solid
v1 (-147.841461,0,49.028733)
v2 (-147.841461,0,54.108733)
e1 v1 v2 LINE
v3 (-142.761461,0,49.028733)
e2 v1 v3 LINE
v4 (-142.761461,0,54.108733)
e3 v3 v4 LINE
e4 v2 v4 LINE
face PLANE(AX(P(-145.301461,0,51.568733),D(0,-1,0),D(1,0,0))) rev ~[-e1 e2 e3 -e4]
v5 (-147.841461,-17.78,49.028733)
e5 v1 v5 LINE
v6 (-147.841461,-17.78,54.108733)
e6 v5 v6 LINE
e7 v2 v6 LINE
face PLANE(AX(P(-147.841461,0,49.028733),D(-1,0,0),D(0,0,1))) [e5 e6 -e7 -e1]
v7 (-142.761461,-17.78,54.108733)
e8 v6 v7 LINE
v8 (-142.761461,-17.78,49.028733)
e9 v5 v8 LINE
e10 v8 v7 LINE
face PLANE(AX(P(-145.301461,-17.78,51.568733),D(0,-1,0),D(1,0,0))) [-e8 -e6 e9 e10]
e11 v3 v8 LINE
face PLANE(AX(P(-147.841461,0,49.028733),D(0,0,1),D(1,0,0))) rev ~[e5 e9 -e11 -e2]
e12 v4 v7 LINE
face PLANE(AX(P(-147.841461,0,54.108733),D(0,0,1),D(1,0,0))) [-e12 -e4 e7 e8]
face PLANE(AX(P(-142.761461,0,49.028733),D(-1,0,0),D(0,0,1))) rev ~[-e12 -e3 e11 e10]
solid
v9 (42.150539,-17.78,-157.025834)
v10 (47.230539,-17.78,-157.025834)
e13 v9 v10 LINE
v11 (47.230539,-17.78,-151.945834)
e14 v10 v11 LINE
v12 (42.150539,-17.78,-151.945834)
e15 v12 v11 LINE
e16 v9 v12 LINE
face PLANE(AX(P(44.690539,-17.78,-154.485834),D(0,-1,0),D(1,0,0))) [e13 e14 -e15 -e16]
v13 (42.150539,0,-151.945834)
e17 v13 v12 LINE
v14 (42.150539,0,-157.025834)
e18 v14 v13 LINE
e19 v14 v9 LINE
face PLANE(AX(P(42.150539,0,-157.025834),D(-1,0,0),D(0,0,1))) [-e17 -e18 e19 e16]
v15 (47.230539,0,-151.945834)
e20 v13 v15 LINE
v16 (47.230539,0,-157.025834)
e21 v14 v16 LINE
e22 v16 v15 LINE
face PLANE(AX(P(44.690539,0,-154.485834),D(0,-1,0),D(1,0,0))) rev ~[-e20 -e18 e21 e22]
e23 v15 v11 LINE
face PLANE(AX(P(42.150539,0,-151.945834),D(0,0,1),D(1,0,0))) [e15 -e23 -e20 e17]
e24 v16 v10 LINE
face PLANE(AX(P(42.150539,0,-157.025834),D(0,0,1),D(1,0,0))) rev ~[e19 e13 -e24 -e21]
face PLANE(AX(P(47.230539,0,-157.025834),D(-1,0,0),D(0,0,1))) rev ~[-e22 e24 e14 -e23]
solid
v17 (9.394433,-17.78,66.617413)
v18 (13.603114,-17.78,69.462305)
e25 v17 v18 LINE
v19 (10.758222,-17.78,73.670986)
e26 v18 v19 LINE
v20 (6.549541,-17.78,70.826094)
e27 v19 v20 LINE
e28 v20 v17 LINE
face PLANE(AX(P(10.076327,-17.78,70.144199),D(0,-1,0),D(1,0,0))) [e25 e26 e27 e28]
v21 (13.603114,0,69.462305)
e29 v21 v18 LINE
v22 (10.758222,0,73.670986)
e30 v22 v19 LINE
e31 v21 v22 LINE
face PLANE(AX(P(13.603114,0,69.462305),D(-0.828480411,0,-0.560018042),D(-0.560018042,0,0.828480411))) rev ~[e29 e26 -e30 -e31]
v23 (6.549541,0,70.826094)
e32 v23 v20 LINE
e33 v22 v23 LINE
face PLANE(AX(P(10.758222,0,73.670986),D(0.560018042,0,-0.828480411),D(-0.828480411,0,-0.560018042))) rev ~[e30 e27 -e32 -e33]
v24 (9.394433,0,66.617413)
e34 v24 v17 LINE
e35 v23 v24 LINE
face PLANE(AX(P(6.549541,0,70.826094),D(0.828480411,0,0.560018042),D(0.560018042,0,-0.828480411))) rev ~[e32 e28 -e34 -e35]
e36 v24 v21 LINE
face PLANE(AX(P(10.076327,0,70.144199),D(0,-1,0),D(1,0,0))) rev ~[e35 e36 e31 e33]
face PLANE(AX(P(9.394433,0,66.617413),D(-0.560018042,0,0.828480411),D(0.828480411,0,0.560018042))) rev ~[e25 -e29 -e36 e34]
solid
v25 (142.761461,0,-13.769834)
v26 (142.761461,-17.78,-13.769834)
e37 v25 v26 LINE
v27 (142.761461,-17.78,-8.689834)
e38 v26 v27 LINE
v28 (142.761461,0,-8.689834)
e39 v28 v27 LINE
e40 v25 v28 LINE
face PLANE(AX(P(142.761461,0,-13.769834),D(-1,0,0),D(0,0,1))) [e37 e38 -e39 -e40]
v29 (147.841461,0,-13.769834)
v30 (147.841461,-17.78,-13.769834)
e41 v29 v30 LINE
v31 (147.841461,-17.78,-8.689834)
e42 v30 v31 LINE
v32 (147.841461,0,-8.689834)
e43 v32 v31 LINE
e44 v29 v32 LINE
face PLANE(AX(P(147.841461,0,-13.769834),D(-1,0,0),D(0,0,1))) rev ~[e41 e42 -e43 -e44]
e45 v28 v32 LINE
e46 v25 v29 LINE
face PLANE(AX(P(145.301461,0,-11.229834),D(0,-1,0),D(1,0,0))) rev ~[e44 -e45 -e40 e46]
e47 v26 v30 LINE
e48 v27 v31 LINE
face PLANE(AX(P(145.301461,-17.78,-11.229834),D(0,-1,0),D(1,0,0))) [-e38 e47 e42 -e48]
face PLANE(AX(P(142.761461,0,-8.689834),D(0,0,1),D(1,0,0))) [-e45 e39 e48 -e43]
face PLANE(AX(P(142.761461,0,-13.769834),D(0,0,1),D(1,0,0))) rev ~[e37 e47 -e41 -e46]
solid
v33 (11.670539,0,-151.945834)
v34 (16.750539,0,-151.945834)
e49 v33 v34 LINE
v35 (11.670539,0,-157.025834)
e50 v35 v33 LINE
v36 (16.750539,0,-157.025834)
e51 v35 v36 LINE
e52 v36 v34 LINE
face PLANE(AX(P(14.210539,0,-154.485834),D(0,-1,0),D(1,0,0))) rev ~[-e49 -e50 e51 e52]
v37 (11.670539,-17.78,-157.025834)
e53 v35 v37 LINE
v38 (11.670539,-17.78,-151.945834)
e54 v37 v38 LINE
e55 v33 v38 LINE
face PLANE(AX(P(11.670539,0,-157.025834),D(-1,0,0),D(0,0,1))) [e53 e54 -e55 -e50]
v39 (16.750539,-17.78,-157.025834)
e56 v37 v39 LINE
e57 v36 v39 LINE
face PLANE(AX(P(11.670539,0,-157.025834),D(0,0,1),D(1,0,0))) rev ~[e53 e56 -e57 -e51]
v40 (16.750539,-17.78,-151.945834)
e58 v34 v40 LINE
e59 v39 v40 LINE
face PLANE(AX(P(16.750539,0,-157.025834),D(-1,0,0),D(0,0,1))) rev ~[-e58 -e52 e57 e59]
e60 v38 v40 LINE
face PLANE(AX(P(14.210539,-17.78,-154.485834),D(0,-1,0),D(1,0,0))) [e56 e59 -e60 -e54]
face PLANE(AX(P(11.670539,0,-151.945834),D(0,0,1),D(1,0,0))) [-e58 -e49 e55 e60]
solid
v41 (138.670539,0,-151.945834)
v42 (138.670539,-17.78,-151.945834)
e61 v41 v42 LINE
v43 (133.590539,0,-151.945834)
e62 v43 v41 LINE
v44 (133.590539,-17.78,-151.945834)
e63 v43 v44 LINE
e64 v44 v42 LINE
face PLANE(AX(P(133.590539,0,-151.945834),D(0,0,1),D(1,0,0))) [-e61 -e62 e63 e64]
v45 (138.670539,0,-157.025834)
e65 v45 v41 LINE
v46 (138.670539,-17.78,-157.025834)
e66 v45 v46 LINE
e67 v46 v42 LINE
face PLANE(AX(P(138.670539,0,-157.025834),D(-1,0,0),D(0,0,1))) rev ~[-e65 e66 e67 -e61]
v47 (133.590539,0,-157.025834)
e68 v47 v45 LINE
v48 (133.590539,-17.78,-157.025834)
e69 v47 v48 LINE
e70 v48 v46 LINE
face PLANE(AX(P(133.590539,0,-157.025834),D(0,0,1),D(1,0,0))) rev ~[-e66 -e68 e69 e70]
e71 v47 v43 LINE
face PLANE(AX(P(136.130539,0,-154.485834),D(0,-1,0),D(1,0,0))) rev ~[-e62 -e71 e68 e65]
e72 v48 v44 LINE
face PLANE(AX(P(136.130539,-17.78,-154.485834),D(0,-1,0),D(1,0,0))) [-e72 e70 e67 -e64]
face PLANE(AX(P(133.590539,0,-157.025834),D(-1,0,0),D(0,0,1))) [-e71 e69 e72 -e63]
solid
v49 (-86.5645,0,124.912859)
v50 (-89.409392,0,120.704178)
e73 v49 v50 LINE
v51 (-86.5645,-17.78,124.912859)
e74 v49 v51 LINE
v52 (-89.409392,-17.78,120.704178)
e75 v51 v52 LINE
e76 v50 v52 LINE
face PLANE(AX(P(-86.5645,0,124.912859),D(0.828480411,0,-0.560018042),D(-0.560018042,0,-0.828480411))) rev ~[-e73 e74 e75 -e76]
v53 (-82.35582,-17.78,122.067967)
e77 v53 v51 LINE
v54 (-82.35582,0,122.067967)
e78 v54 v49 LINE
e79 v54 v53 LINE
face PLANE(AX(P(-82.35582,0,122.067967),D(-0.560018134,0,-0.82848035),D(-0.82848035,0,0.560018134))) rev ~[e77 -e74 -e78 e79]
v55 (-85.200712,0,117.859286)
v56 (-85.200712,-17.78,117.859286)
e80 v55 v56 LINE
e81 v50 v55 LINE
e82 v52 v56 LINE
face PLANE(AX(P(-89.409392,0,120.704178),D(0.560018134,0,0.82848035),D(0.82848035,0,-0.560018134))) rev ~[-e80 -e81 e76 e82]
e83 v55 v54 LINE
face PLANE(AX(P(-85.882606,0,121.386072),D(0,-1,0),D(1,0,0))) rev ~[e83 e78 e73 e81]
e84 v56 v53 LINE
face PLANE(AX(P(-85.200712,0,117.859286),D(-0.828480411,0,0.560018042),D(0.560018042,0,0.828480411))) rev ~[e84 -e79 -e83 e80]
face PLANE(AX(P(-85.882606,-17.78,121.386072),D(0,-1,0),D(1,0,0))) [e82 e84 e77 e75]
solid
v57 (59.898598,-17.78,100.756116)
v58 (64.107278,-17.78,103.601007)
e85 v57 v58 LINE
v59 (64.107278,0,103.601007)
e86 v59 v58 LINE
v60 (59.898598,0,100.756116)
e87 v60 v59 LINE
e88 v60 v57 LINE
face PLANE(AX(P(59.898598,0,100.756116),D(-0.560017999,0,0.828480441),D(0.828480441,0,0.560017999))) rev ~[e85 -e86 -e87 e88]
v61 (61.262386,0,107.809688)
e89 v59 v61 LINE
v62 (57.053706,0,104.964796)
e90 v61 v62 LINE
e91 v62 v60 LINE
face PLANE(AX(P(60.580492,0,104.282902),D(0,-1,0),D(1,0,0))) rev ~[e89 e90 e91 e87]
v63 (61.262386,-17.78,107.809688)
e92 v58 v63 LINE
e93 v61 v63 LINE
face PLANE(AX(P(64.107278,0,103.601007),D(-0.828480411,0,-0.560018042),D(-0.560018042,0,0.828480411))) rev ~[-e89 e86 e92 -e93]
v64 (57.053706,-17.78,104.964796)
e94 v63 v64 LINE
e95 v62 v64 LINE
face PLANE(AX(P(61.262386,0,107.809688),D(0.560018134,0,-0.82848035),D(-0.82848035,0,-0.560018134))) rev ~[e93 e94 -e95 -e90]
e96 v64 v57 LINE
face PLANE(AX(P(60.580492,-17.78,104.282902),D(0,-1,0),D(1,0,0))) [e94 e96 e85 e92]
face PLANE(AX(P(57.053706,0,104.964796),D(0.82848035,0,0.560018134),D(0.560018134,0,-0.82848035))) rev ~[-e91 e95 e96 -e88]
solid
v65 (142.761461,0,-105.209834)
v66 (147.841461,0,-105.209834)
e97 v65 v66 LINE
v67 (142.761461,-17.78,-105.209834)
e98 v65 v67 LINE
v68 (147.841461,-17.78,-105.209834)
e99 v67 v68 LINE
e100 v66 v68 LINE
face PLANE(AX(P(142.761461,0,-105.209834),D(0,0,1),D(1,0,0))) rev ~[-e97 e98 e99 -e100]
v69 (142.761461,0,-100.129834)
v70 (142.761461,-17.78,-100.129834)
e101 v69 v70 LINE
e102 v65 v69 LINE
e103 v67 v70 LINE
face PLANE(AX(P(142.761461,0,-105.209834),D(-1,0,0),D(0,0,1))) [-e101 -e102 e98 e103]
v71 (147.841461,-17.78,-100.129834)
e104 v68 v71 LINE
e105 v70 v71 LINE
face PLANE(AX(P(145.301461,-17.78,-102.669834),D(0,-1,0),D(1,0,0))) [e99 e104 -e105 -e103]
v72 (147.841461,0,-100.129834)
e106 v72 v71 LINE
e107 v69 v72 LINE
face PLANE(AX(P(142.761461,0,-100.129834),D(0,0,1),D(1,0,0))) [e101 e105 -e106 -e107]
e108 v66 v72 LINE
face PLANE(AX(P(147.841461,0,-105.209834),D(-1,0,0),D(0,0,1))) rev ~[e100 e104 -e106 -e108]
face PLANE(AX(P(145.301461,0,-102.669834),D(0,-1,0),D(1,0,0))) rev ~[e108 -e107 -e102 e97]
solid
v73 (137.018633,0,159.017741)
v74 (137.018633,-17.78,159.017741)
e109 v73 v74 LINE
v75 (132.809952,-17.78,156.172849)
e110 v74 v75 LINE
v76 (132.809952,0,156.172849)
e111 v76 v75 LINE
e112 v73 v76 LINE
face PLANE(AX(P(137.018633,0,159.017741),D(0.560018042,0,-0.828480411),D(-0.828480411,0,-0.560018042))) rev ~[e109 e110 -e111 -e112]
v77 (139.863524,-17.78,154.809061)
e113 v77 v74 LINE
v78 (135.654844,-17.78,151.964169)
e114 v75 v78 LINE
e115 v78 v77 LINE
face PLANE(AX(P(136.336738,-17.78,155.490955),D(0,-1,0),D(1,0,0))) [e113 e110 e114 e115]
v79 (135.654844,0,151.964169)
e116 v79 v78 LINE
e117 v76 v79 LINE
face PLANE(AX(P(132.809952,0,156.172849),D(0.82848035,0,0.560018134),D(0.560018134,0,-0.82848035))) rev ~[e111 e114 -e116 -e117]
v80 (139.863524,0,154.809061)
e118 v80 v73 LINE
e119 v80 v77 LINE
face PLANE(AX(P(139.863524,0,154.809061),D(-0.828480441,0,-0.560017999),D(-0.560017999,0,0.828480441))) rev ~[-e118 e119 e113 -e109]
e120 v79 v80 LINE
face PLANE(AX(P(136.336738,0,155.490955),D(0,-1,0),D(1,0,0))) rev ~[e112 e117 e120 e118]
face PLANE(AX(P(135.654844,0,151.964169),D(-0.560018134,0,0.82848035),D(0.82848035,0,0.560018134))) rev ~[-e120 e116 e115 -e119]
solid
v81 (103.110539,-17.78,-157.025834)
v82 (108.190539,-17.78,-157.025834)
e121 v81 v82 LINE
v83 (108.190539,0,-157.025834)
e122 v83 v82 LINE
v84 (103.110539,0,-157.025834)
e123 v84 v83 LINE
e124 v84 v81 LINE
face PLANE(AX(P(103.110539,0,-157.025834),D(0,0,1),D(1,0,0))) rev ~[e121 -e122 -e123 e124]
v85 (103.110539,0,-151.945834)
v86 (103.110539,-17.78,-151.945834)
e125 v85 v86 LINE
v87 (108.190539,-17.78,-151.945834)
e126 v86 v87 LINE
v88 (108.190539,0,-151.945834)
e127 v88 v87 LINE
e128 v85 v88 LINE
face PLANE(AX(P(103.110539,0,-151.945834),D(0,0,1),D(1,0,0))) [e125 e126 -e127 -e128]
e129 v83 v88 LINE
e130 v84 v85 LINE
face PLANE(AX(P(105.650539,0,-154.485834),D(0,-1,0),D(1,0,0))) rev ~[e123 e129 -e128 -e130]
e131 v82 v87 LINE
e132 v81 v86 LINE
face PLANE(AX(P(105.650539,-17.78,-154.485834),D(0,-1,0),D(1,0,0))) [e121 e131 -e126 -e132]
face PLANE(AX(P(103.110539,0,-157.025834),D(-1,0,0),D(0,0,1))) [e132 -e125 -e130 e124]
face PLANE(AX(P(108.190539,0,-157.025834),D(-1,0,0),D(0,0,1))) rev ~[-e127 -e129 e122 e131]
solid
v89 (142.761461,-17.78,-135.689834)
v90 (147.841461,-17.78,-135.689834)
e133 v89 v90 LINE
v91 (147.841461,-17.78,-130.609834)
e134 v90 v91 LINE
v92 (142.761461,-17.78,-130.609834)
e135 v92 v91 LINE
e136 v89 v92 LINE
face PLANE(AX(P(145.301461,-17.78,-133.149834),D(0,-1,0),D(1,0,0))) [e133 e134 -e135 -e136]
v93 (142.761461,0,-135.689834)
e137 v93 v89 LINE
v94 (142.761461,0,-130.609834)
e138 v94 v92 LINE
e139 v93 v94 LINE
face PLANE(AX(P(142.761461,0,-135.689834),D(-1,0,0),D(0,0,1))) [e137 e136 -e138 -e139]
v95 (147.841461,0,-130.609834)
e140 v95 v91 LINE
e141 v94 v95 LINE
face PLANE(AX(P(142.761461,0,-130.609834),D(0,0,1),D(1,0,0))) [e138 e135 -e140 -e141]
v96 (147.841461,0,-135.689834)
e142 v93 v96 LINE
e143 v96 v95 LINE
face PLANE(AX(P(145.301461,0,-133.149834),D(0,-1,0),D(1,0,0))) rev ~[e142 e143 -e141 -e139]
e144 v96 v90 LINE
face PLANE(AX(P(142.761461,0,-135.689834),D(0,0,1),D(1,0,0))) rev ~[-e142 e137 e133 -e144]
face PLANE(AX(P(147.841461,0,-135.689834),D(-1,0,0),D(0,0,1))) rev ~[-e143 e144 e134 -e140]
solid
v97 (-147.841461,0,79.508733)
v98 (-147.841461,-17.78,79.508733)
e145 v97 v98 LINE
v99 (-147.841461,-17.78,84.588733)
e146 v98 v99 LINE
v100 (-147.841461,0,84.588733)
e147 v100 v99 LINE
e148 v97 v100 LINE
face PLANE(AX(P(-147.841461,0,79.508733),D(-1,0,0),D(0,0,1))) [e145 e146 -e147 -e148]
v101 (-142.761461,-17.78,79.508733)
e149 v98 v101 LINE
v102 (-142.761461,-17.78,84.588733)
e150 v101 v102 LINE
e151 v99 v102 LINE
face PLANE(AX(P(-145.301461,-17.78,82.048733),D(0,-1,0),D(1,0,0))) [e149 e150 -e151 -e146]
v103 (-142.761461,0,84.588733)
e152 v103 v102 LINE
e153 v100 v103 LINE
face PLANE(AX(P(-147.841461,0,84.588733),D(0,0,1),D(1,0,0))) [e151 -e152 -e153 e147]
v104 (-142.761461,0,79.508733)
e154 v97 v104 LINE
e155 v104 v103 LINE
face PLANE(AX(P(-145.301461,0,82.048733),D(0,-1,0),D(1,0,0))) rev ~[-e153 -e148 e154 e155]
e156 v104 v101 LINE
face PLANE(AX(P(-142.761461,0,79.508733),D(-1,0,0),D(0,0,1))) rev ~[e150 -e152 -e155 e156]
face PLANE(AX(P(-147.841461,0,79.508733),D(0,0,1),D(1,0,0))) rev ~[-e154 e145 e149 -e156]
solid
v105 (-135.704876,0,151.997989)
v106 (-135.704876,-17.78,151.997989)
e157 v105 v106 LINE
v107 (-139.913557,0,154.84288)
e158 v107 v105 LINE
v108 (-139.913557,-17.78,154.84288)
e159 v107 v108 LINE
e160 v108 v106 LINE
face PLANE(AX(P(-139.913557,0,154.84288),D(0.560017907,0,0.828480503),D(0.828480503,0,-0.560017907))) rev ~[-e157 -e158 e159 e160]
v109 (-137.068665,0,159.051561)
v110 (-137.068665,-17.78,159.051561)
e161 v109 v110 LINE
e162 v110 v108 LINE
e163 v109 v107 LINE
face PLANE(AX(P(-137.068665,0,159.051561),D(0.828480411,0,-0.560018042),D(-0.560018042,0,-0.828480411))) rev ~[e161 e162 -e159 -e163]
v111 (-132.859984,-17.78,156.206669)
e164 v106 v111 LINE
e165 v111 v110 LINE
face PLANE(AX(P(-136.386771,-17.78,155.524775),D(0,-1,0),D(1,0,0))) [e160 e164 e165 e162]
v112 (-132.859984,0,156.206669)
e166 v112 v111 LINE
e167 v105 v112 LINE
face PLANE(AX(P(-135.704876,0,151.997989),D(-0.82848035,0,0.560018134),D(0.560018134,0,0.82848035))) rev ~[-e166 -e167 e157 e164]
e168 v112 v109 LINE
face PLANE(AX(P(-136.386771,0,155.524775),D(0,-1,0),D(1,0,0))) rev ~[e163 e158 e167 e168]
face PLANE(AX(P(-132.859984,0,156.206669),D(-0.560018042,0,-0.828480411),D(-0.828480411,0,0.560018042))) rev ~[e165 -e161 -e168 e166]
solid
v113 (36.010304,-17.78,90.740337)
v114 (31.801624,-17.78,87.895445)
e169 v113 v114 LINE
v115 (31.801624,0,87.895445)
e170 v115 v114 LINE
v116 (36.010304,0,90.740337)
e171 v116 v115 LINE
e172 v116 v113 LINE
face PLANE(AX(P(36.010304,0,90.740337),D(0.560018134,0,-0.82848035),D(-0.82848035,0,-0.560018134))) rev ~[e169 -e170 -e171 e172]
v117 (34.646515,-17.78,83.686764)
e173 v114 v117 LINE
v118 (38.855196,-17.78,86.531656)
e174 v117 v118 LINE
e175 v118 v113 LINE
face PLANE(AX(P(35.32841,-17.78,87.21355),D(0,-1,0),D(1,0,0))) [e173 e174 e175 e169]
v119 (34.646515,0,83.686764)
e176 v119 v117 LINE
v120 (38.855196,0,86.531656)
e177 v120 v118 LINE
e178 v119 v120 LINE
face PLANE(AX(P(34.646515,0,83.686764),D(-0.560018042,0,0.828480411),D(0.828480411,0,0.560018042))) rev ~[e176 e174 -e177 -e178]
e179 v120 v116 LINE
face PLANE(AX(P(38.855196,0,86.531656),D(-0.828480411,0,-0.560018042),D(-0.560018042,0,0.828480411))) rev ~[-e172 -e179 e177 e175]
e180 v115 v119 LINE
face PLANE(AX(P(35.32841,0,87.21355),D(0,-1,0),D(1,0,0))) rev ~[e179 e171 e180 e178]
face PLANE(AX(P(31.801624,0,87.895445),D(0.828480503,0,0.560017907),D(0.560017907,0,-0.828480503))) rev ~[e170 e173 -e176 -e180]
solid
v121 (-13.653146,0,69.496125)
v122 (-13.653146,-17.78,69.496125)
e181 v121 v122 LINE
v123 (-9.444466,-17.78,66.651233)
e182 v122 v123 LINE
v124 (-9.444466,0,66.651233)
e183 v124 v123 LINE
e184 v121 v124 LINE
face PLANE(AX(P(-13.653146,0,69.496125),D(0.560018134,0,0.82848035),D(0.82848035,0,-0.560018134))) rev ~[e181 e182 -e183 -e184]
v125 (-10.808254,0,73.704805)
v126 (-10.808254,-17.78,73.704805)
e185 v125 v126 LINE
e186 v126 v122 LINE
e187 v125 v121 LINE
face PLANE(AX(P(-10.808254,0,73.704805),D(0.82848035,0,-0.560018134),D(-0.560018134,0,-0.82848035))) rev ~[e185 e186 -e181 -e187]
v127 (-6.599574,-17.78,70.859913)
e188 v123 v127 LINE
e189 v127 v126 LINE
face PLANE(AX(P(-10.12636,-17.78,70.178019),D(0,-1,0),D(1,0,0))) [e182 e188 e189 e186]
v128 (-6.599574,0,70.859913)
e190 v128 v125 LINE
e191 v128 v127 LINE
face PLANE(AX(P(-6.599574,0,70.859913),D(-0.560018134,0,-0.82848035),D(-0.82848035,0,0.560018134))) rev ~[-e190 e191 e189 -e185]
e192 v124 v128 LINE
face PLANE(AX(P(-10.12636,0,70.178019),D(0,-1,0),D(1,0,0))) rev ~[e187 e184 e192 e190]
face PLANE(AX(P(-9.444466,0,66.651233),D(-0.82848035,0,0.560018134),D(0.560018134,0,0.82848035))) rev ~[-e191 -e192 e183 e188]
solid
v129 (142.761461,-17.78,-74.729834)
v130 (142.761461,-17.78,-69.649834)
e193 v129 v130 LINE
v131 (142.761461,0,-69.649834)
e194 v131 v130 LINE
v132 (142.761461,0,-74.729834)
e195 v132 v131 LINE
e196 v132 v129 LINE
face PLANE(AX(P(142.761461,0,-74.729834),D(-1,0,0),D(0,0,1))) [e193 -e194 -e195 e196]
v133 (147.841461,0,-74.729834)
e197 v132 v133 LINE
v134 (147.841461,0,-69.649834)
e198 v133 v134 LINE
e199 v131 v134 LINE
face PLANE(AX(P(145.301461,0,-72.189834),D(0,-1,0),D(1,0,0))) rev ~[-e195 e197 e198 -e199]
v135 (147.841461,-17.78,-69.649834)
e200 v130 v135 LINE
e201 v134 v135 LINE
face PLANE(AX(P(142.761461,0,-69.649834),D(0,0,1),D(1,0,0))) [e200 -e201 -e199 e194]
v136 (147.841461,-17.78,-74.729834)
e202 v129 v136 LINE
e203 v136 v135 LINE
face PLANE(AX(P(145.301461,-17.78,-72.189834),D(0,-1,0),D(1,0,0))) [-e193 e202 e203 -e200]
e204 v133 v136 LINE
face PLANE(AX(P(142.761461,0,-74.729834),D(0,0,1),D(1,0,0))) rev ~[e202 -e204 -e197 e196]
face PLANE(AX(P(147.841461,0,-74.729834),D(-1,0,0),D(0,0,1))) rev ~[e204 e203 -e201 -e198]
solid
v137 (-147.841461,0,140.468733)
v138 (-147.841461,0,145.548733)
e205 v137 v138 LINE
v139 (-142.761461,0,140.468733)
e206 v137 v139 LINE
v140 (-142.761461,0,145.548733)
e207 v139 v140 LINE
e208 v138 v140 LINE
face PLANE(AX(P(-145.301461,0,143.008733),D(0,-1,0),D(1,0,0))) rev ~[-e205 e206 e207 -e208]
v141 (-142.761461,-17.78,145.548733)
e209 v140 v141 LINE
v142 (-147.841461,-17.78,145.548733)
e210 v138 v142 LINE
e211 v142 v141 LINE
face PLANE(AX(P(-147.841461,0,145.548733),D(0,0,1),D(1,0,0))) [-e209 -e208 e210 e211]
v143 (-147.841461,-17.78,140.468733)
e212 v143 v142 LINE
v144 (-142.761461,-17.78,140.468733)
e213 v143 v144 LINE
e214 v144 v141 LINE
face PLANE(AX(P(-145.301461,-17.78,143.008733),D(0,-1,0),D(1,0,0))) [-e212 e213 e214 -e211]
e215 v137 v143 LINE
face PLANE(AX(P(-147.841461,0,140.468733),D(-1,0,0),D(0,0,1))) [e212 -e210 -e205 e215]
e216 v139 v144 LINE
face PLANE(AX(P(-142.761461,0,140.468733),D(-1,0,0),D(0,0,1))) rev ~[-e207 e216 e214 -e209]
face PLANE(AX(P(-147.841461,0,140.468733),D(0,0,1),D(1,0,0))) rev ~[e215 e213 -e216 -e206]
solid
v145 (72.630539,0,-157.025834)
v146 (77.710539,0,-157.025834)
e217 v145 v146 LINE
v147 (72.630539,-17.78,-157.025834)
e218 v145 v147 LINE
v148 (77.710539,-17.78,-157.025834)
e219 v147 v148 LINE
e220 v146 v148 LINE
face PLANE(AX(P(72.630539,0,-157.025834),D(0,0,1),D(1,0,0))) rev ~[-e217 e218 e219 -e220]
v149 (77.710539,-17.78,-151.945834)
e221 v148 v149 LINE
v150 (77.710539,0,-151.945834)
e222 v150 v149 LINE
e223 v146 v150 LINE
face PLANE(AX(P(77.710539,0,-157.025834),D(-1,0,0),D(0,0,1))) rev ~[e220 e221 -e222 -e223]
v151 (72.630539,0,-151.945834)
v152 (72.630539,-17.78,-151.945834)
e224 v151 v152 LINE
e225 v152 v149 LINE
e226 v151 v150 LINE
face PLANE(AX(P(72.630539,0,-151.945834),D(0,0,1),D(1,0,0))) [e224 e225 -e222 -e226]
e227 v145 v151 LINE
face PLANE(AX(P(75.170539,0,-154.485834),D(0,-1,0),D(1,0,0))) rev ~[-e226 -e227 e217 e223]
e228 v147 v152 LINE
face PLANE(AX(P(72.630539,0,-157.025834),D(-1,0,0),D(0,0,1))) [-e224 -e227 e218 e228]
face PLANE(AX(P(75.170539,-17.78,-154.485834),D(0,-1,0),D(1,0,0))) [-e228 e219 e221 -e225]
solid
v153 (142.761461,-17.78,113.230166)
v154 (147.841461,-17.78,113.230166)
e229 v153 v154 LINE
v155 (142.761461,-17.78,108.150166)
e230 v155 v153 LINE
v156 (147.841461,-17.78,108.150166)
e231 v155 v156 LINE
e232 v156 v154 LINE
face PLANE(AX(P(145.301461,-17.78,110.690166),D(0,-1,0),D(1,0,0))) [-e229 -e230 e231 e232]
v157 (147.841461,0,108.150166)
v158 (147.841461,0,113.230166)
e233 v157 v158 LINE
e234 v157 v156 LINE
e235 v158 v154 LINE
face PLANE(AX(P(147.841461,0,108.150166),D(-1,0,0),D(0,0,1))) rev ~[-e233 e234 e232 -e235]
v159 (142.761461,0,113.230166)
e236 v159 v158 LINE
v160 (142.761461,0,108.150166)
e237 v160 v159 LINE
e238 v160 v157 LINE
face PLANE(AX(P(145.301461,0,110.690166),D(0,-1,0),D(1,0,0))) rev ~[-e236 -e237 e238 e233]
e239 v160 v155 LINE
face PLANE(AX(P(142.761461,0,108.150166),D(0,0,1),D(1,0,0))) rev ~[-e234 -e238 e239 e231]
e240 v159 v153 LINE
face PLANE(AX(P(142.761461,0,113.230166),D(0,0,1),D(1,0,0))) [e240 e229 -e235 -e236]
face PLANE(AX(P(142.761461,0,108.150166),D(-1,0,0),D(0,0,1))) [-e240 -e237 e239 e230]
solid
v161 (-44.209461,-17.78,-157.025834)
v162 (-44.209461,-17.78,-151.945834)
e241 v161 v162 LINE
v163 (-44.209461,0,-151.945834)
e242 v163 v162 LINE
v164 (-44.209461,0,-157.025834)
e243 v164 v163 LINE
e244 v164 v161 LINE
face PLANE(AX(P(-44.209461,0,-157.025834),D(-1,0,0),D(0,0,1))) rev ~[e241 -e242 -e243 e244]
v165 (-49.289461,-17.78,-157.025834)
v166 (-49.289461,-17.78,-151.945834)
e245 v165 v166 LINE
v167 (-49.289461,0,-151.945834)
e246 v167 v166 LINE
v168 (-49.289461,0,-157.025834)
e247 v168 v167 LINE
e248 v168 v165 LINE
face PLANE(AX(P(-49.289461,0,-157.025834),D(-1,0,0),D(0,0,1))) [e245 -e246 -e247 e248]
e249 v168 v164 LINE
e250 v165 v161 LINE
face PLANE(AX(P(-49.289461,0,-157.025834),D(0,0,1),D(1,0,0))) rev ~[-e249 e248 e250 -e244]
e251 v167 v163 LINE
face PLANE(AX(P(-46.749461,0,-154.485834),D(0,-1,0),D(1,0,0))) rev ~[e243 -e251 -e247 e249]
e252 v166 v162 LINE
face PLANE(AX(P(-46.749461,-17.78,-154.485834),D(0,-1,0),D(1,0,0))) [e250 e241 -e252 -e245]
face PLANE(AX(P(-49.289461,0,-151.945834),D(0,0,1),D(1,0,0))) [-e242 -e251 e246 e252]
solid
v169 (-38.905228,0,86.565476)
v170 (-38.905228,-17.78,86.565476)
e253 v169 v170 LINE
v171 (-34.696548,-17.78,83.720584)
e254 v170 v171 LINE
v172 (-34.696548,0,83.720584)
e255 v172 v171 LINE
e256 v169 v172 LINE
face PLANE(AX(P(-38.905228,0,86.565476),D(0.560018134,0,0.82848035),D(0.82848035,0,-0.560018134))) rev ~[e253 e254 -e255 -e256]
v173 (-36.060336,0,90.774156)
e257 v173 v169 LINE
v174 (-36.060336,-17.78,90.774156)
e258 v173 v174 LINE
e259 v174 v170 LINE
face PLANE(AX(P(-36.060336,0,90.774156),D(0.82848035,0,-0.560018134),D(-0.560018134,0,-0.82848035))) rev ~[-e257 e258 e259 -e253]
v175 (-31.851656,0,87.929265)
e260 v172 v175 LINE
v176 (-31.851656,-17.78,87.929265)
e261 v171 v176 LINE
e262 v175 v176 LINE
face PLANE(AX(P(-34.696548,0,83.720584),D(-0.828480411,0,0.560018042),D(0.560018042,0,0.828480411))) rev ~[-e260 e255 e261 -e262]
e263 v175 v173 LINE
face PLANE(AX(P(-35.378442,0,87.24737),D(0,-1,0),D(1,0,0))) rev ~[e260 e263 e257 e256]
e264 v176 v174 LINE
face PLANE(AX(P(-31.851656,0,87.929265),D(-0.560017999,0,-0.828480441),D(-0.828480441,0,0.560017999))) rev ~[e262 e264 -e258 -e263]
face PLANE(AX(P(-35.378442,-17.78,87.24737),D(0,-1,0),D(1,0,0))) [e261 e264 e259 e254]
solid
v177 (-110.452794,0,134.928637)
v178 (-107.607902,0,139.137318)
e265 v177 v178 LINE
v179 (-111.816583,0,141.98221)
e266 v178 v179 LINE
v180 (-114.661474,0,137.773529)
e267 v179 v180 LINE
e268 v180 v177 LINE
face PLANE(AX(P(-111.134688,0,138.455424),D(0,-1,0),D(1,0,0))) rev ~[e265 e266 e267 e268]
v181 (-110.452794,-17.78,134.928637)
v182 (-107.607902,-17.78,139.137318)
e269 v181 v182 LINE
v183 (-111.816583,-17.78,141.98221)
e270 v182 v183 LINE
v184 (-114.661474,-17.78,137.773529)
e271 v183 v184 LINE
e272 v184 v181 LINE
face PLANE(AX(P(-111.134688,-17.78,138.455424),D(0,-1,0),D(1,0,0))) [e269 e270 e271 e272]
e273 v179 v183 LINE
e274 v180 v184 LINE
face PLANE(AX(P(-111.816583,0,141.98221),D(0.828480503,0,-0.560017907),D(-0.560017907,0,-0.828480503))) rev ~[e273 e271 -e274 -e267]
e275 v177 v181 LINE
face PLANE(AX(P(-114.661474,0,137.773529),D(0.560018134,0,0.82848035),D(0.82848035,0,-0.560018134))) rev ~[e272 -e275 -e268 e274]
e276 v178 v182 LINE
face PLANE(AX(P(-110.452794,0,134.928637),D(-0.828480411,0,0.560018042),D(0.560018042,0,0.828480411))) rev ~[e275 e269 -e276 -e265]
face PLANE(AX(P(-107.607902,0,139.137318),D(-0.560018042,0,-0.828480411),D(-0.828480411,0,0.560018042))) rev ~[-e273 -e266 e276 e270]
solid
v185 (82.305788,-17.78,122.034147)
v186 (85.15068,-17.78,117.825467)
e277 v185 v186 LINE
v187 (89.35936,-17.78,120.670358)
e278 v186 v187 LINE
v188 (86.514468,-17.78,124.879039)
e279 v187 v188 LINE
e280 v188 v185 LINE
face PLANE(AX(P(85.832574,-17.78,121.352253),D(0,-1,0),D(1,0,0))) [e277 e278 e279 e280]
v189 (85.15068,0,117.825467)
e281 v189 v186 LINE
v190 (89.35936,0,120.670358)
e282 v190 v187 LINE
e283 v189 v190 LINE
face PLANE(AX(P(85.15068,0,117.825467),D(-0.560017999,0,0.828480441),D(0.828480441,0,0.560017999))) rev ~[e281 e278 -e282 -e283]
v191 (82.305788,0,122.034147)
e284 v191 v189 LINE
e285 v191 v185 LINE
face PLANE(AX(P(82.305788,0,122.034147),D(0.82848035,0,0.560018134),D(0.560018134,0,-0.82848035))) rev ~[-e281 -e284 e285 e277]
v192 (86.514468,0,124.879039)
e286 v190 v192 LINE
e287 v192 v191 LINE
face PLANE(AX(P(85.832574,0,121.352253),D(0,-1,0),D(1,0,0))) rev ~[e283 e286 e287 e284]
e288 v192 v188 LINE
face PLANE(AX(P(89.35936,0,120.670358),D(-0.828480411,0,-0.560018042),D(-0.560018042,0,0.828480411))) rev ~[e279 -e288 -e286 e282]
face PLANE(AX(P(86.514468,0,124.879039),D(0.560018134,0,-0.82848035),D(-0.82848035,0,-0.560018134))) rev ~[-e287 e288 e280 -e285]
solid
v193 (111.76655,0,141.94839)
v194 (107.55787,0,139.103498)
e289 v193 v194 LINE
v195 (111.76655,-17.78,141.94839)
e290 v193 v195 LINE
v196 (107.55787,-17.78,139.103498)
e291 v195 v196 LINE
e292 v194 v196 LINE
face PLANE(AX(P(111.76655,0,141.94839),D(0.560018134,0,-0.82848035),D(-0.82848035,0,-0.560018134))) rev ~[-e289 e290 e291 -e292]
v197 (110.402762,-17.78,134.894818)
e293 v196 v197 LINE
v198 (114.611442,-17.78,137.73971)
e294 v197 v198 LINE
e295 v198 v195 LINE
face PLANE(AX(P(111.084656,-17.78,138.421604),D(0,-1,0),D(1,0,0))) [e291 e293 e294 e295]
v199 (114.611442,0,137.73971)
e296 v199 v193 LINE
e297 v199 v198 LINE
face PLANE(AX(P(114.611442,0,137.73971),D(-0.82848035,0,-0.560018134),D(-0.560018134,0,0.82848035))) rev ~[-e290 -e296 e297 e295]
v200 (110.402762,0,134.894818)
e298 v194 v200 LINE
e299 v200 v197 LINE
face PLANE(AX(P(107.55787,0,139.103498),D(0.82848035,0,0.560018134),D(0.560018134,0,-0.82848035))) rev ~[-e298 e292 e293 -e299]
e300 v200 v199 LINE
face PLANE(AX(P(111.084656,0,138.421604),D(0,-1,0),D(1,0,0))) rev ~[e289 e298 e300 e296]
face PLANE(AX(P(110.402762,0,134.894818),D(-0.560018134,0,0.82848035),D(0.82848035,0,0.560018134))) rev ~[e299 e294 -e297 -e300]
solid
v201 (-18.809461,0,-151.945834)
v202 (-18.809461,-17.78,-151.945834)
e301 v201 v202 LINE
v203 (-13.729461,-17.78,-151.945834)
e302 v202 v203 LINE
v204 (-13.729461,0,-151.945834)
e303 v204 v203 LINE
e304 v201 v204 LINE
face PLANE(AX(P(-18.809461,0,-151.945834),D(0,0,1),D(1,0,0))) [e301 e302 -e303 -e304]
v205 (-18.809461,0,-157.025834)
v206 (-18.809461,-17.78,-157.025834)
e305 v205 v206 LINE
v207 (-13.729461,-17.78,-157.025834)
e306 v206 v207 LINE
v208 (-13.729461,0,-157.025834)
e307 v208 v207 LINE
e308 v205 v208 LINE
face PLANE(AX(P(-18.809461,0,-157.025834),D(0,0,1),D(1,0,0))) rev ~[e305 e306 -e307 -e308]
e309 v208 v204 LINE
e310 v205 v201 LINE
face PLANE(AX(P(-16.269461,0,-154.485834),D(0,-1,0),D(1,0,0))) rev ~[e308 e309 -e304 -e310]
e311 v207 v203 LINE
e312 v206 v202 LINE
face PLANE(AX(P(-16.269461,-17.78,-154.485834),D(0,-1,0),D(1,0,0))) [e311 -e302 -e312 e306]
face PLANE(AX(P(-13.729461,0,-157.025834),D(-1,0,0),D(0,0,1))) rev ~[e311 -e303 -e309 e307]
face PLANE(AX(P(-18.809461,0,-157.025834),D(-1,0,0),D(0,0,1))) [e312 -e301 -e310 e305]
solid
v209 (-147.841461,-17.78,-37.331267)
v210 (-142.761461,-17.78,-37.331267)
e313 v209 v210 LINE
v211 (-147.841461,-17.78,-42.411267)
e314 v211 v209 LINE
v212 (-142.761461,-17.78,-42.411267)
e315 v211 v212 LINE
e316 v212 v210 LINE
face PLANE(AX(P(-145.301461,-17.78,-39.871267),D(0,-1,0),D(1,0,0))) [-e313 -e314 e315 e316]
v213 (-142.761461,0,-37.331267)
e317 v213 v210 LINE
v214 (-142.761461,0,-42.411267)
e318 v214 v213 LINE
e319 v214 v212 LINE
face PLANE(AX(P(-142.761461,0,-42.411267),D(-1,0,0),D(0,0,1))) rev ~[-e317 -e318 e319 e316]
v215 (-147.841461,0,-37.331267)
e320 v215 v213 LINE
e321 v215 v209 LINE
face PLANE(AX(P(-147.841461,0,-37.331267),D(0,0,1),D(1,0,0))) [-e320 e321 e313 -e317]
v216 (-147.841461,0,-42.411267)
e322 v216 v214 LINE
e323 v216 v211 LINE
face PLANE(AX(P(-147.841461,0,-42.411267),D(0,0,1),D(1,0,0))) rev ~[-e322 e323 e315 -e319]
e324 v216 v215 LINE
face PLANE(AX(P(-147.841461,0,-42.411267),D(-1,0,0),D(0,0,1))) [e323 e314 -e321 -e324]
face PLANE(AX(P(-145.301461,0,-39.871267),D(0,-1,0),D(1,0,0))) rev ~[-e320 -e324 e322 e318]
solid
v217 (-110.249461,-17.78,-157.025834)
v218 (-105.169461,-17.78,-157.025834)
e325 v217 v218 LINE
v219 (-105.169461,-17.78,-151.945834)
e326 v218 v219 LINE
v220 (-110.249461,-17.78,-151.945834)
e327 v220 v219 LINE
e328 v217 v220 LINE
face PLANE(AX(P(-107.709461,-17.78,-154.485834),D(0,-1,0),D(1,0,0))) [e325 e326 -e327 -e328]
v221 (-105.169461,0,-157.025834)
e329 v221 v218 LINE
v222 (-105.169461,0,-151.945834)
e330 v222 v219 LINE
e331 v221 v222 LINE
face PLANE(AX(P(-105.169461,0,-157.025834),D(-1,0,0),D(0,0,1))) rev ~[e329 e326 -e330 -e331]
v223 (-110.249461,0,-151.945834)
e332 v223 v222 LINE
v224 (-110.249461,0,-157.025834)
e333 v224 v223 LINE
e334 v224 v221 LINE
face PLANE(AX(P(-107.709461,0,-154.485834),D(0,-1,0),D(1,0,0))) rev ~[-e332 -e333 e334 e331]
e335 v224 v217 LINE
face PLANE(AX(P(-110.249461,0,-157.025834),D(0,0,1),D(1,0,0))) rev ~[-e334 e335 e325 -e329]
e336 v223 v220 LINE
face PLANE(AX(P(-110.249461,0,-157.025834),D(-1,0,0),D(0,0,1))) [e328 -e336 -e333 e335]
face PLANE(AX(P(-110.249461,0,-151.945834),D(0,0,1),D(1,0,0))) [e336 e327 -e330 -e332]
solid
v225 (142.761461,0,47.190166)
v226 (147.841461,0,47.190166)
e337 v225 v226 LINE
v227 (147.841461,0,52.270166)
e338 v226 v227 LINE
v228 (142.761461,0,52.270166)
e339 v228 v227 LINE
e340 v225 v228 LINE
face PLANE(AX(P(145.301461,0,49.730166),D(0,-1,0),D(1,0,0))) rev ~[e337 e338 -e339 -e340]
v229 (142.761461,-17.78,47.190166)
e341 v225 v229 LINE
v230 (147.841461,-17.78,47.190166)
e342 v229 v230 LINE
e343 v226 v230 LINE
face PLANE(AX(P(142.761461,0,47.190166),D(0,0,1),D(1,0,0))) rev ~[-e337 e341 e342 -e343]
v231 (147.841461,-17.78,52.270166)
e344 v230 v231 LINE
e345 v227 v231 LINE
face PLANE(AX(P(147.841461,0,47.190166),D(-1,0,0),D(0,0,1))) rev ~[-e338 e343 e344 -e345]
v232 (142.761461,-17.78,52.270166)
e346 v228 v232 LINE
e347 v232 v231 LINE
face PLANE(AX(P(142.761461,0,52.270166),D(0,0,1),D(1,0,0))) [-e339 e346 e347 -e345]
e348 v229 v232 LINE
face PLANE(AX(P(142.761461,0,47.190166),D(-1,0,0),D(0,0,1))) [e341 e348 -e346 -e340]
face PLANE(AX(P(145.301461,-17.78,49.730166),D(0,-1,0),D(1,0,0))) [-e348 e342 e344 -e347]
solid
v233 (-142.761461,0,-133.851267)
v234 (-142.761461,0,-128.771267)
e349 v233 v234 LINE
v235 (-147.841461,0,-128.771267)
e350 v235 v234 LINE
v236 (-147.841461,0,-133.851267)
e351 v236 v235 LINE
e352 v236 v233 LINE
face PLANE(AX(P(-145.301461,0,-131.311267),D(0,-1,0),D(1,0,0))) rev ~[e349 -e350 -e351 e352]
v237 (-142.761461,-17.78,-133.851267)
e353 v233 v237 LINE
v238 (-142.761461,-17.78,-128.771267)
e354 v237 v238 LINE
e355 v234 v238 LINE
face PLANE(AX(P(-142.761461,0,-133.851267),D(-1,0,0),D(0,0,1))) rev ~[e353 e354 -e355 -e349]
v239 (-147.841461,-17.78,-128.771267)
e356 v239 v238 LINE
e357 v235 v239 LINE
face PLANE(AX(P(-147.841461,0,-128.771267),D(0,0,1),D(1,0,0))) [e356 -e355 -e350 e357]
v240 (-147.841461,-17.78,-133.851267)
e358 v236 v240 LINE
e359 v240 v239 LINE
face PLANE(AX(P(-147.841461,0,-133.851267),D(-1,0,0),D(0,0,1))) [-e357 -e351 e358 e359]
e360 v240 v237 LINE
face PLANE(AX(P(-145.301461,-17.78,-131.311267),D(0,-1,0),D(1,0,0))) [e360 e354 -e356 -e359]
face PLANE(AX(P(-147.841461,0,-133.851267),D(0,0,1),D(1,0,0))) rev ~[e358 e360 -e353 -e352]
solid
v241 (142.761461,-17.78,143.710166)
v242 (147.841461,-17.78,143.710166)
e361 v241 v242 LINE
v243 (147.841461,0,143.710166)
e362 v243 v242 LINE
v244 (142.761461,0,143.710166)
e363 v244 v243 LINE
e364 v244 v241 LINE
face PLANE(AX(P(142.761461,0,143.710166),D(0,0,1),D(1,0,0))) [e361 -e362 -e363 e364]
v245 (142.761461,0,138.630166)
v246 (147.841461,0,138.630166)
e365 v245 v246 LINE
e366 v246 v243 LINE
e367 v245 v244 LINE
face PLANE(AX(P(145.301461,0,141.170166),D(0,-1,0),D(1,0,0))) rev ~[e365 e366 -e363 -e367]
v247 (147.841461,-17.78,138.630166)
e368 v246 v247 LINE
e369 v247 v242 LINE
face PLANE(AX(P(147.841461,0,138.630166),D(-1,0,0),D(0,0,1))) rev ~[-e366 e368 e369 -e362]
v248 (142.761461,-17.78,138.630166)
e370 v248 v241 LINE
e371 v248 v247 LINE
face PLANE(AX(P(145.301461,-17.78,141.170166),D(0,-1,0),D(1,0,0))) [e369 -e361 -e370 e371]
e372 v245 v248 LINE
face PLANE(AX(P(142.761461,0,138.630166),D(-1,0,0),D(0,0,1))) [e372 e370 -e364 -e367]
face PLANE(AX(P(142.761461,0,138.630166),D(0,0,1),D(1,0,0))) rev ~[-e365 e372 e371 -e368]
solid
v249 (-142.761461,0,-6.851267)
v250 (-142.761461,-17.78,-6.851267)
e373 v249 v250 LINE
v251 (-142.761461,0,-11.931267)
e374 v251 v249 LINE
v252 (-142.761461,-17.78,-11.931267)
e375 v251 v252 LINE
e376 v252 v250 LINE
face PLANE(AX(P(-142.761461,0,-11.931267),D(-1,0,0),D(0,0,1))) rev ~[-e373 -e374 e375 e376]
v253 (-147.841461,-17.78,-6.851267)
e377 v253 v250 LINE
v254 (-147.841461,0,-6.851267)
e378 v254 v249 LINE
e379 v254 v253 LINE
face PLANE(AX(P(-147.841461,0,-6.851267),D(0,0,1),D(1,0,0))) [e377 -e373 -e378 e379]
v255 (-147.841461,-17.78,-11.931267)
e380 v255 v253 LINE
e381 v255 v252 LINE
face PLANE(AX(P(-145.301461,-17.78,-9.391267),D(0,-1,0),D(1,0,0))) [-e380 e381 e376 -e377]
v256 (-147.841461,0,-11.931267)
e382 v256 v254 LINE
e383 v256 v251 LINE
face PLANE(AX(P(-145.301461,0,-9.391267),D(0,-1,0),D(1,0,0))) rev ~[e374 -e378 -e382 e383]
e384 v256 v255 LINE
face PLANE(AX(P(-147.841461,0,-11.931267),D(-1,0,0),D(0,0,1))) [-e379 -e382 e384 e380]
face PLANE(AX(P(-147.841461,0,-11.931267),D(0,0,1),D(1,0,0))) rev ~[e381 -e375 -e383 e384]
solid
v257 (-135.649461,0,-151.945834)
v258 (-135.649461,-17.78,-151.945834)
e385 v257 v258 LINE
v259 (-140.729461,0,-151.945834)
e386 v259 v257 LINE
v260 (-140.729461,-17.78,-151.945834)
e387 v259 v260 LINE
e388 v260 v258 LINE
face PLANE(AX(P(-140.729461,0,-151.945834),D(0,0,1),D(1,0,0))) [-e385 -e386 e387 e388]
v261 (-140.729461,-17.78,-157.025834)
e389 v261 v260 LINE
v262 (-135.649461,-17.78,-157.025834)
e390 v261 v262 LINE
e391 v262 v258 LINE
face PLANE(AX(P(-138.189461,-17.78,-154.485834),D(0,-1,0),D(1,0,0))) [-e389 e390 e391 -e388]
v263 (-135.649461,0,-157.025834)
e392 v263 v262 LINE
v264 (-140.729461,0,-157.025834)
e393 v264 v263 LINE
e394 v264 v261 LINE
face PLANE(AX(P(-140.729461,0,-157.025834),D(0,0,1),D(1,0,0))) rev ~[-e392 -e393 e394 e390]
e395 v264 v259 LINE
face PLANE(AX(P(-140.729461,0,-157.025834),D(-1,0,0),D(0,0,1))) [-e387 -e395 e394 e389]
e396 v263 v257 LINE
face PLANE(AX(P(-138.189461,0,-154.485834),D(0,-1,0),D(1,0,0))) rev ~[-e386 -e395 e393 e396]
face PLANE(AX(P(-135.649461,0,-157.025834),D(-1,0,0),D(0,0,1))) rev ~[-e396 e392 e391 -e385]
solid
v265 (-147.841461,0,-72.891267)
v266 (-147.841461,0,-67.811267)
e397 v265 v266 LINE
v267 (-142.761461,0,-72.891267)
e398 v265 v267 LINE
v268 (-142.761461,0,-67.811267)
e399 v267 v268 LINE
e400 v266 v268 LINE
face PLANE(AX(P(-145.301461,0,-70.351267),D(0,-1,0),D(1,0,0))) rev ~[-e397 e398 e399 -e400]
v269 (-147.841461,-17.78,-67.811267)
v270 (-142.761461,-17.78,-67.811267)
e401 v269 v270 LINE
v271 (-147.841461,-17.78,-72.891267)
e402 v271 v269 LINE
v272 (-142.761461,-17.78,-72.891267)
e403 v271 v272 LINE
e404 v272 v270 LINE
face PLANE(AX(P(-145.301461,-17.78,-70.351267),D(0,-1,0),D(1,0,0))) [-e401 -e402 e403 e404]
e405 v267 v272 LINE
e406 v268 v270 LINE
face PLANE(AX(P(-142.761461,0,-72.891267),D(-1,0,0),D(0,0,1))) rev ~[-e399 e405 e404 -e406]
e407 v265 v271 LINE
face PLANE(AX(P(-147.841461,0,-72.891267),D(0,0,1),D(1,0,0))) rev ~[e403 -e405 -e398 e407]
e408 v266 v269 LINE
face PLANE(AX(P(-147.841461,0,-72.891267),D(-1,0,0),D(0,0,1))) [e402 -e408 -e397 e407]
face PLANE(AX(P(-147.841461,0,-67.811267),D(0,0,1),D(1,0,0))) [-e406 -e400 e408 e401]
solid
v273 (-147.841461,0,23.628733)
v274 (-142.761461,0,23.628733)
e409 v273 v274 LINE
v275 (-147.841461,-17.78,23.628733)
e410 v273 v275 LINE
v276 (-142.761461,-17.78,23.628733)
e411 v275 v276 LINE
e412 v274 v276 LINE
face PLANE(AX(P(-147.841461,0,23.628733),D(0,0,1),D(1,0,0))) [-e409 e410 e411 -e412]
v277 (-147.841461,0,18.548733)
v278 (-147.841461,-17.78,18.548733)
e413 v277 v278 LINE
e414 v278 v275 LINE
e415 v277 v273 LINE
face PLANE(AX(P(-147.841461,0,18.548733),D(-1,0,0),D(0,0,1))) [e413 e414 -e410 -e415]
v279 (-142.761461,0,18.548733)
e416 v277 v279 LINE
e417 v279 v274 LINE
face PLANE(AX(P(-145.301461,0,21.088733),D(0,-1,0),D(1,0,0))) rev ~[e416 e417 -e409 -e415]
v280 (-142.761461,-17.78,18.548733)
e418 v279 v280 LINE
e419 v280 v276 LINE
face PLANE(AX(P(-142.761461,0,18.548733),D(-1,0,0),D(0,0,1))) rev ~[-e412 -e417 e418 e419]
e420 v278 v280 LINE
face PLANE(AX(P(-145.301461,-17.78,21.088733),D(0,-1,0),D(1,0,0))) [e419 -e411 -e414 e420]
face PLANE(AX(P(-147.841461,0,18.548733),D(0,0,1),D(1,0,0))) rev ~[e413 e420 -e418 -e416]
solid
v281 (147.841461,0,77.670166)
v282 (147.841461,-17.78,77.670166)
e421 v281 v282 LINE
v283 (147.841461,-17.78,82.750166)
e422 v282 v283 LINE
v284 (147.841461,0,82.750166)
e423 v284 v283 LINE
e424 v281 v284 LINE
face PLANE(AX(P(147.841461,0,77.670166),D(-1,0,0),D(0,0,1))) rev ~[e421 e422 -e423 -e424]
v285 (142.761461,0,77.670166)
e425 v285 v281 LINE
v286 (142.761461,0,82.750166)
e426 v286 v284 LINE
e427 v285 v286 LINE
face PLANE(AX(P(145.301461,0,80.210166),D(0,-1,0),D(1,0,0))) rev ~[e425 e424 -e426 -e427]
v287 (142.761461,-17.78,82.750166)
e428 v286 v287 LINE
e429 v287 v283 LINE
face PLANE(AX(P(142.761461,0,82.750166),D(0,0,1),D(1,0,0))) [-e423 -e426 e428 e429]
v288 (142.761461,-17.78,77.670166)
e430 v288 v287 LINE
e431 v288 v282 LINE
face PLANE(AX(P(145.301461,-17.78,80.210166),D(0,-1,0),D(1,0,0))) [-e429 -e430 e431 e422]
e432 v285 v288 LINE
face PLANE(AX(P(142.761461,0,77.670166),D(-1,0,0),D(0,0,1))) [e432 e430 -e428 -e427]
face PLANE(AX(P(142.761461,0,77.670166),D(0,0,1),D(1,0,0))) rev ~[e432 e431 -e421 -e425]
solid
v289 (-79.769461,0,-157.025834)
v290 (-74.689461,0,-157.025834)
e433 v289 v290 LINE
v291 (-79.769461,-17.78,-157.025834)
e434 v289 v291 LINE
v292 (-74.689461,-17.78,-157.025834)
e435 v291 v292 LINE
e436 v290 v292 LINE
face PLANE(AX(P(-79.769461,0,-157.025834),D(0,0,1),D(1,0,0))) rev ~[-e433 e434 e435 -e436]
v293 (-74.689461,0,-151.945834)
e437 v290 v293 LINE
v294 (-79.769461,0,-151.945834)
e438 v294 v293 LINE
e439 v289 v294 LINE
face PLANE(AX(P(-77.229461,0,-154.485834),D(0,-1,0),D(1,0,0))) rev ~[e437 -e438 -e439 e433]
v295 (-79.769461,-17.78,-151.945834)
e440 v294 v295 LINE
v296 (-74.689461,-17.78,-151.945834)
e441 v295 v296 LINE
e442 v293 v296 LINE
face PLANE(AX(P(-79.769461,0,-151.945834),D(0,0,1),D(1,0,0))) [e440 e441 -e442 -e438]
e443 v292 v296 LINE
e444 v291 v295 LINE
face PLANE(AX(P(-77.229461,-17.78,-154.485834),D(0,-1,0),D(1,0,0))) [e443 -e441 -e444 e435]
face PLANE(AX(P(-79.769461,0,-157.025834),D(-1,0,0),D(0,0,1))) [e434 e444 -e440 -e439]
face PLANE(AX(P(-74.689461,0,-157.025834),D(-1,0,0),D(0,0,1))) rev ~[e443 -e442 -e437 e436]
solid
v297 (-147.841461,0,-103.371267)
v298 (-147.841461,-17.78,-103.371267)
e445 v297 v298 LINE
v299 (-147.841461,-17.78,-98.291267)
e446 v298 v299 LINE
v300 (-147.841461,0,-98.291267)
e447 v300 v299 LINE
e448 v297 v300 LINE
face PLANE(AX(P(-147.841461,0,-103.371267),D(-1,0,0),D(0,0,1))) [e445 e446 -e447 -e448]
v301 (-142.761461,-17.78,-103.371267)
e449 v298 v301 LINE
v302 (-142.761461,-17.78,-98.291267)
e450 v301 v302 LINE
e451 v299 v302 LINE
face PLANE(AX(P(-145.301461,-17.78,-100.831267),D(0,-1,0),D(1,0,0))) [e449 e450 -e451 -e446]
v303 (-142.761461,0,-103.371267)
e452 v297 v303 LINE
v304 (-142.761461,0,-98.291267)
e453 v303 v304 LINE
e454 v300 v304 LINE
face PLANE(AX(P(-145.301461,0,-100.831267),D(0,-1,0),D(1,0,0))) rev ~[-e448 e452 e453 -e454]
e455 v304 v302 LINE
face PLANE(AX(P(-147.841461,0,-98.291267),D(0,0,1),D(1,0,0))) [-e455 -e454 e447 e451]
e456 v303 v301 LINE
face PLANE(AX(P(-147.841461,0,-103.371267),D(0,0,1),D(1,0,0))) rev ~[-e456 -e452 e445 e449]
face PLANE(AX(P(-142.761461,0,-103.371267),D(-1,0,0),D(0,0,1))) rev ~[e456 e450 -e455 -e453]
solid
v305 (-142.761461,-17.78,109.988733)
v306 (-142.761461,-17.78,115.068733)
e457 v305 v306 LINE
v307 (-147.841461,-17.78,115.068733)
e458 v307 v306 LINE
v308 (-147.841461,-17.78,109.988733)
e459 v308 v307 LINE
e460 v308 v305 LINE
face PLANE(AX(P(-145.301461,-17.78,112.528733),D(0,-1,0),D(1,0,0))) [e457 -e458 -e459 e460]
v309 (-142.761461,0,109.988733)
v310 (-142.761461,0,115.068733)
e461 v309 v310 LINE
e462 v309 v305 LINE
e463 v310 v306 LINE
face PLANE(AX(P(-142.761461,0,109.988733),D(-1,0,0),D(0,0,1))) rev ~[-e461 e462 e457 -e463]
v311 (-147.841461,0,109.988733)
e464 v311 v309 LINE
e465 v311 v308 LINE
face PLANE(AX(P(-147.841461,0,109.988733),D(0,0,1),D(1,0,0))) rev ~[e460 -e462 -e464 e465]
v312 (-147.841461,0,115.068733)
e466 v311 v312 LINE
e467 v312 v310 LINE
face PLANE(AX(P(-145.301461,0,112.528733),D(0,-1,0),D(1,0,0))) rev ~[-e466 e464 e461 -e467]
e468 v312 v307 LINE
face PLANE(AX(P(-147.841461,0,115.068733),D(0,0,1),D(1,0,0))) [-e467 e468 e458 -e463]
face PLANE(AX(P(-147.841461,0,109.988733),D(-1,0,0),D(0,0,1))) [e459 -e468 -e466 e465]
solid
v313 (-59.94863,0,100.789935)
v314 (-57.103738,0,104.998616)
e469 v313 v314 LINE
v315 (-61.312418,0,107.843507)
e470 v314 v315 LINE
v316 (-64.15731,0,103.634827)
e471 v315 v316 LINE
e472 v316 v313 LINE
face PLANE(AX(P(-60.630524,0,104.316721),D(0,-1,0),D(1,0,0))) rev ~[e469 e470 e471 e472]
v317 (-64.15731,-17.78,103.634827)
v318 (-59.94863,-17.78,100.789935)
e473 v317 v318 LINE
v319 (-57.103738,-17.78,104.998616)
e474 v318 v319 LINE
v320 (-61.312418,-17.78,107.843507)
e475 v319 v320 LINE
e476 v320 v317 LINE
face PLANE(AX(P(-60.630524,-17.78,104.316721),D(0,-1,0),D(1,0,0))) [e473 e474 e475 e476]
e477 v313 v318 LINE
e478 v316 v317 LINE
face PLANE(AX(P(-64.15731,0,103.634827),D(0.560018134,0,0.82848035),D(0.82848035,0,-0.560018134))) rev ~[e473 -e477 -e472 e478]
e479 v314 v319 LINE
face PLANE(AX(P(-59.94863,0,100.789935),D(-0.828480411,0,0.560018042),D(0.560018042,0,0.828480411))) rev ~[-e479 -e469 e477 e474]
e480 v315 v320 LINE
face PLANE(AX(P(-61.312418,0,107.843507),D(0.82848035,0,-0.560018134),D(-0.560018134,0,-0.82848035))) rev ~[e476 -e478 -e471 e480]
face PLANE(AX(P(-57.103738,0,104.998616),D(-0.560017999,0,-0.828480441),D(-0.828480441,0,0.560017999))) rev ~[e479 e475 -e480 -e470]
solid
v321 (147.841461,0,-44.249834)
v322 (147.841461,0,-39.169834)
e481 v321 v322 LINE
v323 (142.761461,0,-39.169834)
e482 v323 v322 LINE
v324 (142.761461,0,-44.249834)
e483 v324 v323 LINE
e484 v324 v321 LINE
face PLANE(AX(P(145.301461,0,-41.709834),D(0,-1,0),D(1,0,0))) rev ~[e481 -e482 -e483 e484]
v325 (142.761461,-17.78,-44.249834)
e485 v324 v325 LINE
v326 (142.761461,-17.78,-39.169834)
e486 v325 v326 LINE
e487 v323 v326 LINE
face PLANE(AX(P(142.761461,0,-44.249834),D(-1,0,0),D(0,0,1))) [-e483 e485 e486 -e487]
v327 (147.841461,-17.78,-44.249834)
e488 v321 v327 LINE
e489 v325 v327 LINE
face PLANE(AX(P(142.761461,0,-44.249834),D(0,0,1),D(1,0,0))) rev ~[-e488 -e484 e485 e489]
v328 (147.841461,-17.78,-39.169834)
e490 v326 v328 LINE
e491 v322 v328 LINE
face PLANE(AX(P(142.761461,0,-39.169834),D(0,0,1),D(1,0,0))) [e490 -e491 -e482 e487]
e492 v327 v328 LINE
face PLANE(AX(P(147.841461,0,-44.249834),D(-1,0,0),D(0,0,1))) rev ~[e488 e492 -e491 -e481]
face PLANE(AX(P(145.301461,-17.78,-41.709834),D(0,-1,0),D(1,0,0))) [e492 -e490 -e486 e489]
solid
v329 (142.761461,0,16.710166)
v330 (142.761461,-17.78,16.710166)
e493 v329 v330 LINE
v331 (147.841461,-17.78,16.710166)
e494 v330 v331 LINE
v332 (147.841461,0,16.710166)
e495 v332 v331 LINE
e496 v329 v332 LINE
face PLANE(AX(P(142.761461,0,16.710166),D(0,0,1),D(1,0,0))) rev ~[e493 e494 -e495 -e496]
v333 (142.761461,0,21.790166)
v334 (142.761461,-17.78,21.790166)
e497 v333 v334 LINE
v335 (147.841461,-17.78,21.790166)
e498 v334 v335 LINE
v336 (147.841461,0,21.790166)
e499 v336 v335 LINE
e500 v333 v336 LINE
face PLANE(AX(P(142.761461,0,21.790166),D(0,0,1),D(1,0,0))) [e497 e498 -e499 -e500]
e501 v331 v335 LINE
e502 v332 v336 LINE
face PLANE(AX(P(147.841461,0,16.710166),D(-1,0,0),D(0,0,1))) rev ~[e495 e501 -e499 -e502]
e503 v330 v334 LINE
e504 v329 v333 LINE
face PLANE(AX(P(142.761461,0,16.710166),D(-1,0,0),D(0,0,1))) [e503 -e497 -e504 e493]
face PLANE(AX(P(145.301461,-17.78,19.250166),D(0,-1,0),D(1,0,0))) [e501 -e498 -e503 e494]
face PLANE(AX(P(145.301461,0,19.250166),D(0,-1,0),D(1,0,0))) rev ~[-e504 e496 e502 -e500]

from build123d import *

# Parameters (mm, degrees)
F1_W     = 5.08
F1_H     = 5.08
F2_DEPTH = 17.78


with BuildPart() as f2:
    # F1 (on Front) → F2 (new body)
    with BuildSketch(Plane.XZ):
        Polygon((-9.444466, 66.651233), (-6.599574, 70.859913), (-10.808254, 73.704805), (-13.653146, 69.496125), align=None)
        Polygon((-34.696548, 83.720584), (-31.851656, 87.929265), (-36.060336, 90.774156), (-38.905228, 86.565476), align=None)
        Polygon((-59.94863, 100.789935), (-57.103738, 104.998616), (-61.312418, 107.843507), (-64.15731, 103.634827), align=None)
        Polygon((-85.200712, 117.859286), (-82.35582, 122.067967), (-86.5645, 124.912859), (-89.409392, 120.704178), align=None)
        Polygon((-110.452794, 134.928637), (-107.607902, 139.137318), (-111.816583, 141.98221), (-114.661474, 137.773529), align=None)
        Polygon((-135.704876, 151.997989), (-132.859984, 156.206669), (-137.068665, 159.051561), (-139.913557, 154.84288), align=None)
        with Locations((-145.301461, -9.391267)):
            Rectangle(F1_W, F1_H)
        with Locations((-145.301461, 21.088733)):
            Rectangle(F1_W, F1_H)
        with Locations((-145.301461, 51.568733)):
            Rectangle(F1_W, F1_H)
        with Locations((-145.301461, 82.048733)):
            Rectangle(F1_W, F1_H)
        with Locations((-145.301461, 112.528733)):
            Rectangle(F1_W, F1_H)
        with Locations((-145.301461, 143.008733)):
            Rectangle(F1_W, F1_H)
        with Locations((-145.301461, -131.311267)):
            Rectangle(F1_W, F1_H)
        with Locations((-145.301461, -100.831267)):
            Rectangle(F1_W, F1_H)
        with Locations((-145.301461, -70.351267)):
            Rectangle(F1_W, F1_H)
        with Locations((-145.301461, -39.871267)):
            Rectangle(F1_W, F1_H)
        with Locations((-16.269461, -154.485834)):
            Rectangle(F1_W, F1_H)
        with Locations((14.210539, -154.485834)):
            Rectangle(F1_W, F1_H)
        with Locations((44.690539, -154.485834)):
            Rectangle(F1_W, F1_H)
        with Locations((75.170539, -154.485834)):
            Rectangle(F1_W, F1_H)
        with Locations((105.650539, -154.485834)):
            Rectangle(F1_W, F1_H)
        with Locations((-138.189461, -154.485834)):
            Rectangle(F1_W, F1_H)
        with Locations((-107.709461, -154.485834)):
            Rectangle(F1_W, F1_H)
        with Locations((-77.229461, -154.485834)):
            Rectangle(F1_W, F1_H)
        with Locations((-46.749461, -154.485834)):
            Rectangle(F1_W, F1_H)
        with Locations((136.130539, -154.485834)):
            Rectangle(F1_W, F1_H)
        with Locations((145.301461, -11.229834)):
            Rectangle(F1_W, F1_H)
        with Locations((145.301461, 19.250166)):
            Rectangle(F1_W, F1_H)
        with Locations((145.301461, 49.730166)):
            Rectangle(F1_W, F1_H)
        with Locations((145.301461, 80.210166)):
            Rectangle(F1_W, F1_H)
        with Locations((145.301461, 110.690166)):
            Rectangle(F1_W, F1_H)
        with Locations((145.301461, 141.170166)):
            Rectangle(F1_W, F1_H)
        with Locations((145.301461, -133.149834)):
            Rectangle(F1_W, F1_H)
        with Locations((145.301461, -102.669834)):
            Rectangle(F1_W, F1_H)
        with Locations((145.301461, -72.189834)):
            Rectangle(F1_W, F1_H)
        with Locations((145.301461, -41.709834)):
            Rectangle(F1_W, F1_H)
        Polygon((6.549541, 70.826094), (9.394433, 66.617413), (13.603114, 69.462305), (10.758222, 73.670986), align=None)
        Polygon((31.801624, 87.895445), (34.646515, 83.686764), (38.855196, 86.531656), (36.010304, 90.740337), align=None)
        Polygon((57.053706, 104.964796), (59.898598, 100.756116), (64.107278, 103.601007), (61.262386, 107.809688), align=None)
        Polygon((82.305788, 122.034147), (85.15068, 117.825467), (89.35936, 120.670358), (86.514468, 124.879039), align=None)
        Polygon((107.55787, 139.103498), (110.402762, 134.894818), (114.611442, 137.73971), (111.76655, 141.94839), align=None)
        Polygon((132.809952, 156.172849), (135.654844, 151.964169), (139.863524, 154.809061), (137.018633, 159.017741), align=None)
    extrude(amount=F2_DEPTH)


solid = f2.part
